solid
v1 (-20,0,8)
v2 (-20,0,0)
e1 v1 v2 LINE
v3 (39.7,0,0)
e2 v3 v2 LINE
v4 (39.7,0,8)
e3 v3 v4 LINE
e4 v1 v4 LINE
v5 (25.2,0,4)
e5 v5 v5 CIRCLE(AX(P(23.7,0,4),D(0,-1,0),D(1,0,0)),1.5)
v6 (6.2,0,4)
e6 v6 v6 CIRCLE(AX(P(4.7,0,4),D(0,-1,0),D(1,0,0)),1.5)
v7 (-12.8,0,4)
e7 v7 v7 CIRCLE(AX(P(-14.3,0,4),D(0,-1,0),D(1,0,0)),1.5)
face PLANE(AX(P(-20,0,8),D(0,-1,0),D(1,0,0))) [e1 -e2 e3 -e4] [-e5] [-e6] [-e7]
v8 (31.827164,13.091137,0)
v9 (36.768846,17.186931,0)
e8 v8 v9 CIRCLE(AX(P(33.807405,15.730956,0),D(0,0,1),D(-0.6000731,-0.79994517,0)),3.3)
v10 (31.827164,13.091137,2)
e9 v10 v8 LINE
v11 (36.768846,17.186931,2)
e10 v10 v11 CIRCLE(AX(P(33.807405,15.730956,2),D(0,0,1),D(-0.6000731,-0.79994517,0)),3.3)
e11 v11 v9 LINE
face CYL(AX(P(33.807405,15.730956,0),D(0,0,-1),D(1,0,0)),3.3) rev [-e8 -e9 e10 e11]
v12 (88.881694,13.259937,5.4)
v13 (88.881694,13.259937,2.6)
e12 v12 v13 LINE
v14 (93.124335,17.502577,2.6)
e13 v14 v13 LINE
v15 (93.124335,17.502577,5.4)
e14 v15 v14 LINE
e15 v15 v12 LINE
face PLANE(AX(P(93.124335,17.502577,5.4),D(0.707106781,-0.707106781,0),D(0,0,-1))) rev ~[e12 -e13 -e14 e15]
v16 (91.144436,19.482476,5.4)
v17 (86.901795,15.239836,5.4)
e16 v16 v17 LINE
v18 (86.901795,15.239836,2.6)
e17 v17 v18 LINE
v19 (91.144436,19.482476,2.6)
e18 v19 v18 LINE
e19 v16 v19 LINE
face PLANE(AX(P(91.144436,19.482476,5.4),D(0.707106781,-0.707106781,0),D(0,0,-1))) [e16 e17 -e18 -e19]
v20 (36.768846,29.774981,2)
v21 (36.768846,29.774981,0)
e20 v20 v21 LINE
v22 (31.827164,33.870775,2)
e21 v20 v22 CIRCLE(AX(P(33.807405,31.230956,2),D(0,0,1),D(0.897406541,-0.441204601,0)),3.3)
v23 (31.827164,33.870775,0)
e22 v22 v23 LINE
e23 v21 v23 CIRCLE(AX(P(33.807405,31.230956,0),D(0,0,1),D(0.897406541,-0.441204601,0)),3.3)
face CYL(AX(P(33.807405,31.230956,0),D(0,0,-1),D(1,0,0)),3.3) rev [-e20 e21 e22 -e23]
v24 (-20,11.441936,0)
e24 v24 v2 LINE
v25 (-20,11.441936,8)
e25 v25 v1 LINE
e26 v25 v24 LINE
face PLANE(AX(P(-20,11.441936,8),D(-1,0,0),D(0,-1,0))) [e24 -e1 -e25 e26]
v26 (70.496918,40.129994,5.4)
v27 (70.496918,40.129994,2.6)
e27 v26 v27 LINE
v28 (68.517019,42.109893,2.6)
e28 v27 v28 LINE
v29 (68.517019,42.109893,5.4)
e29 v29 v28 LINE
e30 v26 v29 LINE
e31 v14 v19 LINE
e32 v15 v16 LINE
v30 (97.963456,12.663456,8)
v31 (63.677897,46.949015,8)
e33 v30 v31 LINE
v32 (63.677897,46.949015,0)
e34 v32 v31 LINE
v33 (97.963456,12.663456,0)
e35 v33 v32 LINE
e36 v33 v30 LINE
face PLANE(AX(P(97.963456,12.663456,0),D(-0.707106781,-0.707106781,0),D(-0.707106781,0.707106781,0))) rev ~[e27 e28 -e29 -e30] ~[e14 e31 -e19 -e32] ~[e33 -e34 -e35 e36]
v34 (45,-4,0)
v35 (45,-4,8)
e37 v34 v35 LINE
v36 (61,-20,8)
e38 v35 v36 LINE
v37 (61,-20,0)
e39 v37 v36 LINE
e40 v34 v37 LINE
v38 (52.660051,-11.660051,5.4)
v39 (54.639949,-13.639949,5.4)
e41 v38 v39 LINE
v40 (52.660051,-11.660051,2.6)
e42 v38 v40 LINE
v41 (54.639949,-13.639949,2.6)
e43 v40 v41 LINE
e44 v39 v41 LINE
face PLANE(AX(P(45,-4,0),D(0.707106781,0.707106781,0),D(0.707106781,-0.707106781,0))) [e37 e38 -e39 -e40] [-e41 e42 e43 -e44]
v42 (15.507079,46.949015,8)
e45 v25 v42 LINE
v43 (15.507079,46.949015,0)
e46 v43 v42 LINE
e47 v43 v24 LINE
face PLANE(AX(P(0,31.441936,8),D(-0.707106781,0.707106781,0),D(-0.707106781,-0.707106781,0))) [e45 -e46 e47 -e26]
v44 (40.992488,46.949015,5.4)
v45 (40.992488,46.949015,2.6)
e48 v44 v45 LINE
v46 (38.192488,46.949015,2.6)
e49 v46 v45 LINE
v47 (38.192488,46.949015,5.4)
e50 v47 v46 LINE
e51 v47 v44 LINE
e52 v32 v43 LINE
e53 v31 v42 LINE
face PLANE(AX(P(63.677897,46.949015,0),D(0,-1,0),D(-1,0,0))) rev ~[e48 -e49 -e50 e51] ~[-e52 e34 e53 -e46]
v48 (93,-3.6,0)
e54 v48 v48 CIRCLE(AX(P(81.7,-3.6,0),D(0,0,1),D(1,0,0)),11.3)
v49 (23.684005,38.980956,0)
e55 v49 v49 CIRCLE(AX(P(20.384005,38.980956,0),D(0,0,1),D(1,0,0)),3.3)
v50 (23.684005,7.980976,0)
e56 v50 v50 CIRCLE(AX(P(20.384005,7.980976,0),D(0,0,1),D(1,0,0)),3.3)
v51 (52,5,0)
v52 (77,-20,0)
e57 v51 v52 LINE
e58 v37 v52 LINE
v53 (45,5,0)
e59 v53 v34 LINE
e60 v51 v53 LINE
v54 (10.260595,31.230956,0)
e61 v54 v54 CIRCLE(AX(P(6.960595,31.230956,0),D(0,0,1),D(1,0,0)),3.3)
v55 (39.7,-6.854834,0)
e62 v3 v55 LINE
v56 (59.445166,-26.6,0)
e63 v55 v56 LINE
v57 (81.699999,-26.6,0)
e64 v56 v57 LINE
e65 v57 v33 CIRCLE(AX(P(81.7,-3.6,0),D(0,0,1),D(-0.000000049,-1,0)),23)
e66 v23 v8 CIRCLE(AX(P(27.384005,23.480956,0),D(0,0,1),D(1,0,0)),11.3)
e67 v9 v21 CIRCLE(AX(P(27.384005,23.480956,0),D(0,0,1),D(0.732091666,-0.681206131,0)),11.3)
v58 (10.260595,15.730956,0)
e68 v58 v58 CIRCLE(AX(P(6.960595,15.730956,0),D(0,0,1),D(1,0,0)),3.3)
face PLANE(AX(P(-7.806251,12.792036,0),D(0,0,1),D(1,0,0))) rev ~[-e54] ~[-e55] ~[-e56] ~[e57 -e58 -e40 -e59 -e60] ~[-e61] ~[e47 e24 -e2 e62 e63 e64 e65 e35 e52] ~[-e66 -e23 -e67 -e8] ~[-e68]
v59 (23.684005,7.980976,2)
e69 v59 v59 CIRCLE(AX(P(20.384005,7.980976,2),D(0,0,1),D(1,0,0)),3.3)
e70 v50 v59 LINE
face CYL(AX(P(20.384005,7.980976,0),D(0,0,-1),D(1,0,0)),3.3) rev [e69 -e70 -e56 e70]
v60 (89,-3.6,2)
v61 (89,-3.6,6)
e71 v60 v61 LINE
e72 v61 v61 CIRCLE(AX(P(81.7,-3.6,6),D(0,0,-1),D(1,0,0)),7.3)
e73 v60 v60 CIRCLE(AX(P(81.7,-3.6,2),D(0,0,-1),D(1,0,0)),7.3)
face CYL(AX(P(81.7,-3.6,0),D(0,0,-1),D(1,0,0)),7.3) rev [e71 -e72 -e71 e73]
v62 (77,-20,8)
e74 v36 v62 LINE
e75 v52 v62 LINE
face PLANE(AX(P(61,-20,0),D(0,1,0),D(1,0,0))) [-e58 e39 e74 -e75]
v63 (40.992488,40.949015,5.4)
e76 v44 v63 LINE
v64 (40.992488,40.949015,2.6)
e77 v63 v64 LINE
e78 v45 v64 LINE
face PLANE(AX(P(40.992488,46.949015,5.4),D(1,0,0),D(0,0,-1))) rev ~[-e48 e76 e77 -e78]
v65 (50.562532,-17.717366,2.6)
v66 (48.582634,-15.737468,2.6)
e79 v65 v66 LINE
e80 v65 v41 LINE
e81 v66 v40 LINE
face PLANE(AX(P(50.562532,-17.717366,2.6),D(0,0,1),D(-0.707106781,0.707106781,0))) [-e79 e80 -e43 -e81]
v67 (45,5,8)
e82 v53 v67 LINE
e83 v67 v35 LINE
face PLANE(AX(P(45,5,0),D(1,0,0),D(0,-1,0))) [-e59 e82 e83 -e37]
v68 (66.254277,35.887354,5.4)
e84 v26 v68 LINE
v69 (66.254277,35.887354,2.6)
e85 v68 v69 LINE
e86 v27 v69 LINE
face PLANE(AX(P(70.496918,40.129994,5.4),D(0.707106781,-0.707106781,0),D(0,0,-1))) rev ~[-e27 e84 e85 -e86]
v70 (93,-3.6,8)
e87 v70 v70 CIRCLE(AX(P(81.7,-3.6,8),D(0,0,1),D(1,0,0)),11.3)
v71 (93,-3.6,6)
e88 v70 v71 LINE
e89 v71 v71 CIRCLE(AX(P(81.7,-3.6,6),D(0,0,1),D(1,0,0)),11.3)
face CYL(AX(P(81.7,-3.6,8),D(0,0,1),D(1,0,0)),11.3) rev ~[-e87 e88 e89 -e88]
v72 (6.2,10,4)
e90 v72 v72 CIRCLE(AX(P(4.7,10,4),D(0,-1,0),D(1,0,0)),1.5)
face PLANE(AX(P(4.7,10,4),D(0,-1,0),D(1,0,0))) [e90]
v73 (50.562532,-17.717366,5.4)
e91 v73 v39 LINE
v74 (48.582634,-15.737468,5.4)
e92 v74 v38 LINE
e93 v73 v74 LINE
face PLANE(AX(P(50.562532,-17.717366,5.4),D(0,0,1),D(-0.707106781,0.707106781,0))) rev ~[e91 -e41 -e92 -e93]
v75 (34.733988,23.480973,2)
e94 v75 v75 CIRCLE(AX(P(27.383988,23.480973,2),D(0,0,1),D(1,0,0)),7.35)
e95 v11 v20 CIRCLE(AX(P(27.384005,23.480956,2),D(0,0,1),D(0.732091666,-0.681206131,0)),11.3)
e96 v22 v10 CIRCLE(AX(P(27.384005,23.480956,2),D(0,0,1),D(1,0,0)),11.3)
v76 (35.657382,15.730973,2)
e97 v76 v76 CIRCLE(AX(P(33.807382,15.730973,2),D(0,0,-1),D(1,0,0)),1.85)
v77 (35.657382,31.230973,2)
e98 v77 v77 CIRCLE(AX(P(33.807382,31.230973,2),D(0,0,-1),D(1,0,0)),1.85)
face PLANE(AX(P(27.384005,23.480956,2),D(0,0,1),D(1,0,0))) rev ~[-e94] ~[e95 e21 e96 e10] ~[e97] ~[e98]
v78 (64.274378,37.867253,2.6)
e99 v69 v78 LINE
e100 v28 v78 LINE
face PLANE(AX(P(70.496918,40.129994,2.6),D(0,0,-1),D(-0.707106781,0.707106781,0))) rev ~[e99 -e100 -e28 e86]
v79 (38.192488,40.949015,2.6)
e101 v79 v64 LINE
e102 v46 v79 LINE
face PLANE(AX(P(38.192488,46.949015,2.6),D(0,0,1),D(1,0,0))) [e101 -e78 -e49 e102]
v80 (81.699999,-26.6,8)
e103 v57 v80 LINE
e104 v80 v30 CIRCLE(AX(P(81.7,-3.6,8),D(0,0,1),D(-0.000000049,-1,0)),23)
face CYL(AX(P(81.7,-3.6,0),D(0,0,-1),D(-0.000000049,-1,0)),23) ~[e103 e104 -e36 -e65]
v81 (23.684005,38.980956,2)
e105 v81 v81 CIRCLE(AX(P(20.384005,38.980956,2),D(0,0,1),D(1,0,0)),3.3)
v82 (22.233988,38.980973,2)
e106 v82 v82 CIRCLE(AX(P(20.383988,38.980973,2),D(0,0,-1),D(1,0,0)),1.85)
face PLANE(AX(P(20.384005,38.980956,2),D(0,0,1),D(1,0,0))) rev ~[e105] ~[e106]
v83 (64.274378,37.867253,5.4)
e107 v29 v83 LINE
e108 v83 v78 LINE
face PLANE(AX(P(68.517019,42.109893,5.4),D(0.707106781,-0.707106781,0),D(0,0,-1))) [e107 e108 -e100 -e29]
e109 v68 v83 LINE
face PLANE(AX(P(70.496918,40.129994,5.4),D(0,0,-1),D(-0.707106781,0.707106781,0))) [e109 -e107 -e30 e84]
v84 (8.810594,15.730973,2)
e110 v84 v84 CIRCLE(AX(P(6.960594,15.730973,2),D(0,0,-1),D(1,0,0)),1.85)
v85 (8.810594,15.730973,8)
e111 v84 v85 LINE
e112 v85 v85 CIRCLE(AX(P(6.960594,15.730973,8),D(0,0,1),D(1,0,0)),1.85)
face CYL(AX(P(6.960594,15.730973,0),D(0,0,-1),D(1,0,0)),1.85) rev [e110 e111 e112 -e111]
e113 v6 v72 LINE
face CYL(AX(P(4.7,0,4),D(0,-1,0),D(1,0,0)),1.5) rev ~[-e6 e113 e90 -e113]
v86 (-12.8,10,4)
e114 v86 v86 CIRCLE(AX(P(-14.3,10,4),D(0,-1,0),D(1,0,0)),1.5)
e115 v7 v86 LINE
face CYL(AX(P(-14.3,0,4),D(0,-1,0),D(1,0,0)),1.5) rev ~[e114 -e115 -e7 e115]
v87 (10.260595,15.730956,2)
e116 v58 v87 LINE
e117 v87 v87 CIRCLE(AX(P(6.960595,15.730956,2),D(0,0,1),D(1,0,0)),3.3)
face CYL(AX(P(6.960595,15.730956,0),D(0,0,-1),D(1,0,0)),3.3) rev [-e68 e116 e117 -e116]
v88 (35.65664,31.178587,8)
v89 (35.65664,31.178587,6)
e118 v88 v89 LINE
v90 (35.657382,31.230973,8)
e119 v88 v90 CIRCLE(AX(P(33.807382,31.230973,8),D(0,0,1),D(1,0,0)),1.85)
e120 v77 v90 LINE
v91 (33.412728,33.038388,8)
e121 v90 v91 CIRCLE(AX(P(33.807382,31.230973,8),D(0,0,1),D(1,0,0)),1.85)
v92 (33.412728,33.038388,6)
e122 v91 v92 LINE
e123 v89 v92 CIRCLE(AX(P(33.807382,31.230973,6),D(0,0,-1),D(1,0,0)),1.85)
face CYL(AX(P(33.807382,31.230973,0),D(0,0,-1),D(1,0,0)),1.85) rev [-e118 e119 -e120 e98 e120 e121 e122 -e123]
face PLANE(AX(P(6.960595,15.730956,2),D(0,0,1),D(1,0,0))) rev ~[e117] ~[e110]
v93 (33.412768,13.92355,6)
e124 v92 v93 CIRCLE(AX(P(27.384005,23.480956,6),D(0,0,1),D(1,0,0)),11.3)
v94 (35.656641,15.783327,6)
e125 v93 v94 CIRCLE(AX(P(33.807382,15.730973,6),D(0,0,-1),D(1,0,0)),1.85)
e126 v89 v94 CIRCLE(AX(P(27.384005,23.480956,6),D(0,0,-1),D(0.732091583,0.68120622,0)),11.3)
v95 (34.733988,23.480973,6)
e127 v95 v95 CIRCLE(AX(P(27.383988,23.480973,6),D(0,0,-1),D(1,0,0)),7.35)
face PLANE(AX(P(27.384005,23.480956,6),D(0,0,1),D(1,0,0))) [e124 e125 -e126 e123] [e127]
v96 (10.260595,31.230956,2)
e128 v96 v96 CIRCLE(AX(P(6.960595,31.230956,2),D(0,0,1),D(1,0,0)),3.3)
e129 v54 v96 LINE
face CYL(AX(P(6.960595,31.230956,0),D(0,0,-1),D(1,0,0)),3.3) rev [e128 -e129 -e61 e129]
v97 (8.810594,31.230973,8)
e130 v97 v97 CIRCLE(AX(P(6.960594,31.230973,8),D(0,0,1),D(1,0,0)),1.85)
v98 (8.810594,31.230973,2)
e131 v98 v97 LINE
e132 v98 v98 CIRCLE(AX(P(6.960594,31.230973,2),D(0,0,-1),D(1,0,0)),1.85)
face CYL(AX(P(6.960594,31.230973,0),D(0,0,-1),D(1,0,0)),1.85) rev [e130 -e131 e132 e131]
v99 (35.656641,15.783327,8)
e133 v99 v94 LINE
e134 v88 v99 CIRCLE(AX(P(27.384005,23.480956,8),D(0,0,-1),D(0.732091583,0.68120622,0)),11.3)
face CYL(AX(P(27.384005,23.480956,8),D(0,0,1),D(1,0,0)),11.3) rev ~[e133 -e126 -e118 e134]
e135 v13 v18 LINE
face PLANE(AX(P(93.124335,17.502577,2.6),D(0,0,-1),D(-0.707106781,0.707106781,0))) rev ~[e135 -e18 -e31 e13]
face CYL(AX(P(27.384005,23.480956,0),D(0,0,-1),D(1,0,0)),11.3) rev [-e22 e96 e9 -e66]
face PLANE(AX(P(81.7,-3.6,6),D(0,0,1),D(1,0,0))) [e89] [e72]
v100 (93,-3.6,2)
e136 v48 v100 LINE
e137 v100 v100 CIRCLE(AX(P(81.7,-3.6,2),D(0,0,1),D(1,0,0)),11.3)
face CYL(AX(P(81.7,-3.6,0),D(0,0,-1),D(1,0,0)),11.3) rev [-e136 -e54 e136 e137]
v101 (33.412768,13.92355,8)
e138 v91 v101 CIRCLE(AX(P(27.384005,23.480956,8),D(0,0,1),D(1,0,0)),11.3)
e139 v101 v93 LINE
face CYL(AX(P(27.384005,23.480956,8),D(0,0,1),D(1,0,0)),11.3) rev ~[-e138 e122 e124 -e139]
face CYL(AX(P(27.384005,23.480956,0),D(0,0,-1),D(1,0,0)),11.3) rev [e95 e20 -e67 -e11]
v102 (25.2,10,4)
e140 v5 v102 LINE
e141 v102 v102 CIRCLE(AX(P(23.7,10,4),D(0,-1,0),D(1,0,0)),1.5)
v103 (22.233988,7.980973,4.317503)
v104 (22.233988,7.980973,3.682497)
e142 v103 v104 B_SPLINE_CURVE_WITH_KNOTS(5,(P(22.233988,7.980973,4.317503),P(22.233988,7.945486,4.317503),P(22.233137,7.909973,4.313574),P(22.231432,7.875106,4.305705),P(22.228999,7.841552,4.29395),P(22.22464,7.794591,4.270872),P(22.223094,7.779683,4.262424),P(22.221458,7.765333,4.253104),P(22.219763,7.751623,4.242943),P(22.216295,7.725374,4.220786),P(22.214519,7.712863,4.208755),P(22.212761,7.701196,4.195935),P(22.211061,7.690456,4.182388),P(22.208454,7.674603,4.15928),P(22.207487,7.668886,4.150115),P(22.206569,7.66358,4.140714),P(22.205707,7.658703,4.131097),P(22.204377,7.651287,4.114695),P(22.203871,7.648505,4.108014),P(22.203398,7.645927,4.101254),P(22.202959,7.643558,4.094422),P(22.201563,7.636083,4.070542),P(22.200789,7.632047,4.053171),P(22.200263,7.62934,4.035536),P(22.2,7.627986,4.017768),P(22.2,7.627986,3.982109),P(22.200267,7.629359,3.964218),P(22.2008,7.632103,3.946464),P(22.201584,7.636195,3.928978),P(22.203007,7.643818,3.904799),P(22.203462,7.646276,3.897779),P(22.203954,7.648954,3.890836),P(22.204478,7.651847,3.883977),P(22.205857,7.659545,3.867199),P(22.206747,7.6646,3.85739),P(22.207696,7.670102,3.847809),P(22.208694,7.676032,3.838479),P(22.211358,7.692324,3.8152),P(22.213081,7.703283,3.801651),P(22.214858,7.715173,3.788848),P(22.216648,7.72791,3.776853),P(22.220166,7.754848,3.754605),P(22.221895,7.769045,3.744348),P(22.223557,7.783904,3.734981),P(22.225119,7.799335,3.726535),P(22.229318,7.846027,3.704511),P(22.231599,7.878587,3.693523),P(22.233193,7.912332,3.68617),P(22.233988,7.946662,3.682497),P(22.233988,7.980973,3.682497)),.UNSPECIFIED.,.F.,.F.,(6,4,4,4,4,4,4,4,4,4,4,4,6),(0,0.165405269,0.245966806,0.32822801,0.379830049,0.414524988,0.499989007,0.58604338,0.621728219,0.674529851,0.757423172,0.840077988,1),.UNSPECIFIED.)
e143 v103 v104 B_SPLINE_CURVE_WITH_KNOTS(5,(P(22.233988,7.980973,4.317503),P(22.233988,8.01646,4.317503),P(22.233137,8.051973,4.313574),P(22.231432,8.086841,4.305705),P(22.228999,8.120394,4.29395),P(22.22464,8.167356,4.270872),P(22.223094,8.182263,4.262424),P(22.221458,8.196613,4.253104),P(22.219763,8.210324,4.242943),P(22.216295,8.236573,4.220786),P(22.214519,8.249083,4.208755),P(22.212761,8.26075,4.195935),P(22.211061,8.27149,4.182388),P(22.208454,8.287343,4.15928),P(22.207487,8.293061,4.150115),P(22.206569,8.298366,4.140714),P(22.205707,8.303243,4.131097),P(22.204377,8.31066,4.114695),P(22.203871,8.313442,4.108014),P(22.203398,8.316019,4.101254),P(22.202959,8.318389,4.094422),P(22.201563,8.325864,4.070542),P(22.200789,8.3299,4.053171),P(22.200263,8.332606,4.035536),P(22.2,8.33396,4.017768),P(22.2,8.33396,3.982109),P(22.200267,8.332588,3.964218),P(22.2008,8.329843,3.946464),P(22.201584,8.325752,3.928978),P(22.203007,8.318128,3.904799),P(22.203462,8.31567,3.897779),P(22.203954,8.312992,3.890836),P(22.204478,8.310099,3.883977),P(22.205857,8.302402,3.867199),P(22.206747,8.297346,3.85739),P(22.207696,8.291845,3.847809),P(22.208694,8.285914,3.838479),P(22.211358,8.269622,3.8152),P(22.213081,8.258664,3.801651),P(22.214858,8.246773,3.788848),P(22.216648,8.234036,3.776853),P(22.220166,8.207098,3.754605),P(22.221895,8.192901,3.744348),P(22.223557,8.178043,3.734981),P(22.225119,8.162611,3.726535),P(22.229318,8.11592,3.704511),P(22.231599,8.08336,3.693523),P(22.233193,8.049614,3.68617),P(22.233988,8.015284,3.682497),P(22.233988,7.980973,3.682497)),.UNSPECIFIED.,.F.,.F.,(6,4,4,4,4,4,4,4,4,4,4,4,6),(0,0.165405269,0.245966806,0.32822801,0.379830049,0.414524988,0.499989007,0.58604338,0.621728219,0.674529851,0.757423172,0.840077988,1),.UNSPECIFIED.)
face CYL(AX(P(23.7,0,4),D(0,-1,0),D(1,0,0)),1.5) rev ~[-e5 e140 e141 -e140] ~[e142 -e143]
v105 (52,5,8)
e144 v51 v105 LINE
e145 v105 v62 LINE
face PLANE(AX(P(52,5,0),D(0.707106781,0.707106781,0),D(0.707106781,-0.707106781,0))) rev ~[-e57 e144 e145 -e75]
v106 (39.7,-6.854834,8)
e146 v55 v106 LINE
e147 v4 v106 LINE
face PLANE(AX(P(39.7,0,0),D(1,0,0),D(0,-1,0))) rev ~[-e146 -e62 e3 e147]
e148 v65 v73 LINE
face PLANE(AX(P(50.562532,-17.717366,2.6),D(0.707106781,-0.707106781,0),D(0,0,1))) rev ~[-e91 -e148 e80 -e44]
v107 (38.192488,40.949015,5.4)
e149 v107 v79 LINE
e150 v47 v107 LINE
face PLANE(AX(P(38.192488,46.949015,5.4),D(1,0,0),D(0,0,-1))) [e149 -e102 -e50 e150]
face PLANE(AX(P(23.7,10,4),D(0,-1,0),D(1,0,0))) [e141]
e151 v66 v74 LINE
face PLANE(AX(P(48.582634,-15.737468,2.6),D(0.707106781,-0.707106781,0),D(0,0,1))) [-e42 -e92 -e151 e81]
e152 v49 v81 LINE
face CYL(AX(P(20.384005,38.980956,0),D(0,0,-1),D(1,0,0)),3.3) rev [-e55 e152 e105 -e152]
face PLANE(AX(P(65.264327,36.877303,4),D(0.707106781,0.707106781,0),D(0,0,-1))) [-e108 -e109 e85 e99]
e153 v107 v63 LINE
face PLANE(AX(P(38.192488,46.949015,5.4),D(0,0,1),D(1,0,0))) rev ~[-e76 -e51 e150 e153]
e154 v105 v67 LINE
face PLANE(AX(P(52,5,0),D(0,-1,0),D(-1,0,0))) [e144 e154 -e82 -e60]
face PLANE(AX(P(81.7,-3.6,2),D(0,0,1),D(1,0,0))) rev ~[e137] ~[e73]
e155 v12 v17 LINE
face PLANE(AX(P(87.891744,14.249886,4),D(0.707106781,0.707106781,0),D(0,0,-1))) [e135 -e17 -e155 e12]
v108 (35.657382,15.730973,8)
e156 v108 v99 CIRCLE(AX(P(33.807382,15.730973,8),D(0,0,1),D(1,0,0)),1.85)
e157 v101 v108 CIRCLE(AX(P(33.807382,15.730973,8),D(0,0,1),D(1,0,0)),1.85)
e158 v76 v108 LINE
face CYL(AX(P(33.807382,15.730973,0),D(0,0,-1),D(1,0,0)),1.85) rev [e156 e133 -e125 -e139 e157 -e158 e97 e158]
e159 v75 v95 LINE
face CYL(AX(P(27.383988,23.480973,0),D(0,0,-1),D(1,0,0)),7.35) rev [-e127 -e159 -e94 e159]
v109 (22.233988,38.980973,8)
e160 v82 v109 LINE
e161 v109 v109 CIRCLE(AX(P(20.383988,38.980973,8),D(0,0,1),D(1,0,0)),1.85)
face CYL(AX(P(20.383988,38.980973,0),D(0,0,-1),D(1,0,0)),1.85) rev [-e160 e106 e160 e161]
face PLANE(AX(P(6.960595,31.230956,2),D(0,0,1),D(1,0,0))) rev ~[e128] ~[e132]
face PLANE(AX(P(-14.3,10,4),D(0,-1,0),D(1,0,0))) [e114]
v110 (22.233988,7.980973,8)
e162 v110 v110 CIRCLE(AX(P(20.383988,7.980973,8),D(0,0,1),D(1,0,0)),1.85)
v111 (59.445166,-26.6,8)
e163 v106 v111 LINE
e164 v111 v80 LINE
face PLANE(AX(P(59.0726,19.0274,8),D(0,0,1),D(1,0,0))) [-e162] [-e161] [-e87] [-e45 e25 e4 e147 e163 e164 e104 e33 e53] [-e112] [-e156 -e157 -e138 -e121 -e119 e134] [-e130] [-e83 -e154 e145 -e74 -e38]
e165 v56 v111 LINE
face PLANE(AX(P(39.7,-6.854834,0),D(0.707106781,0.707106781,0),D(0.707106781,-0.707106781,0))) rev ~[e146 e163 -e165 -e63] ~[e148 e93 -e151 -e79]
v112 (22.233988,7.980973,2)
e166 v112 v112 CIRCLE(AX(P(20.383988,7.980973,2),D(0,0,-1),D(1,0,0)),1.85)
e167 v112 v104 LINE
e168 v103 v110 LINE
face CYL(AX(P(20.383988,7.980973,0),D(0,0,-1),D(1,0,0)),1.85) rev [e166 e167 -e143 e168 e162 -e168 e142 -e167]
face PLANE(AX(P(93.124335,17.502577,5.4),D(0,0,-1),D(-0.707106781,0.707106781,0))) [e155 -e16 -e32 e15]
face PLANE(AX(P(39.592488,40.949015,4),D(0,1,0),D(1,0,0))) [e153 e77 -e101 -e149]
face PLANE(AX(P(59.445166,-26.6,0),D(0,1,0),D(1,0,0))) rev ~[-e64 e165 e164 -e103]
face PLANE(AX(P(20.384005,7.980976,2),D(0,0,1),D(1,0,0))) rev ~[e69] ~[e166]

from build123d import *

# Parameters (mm, degrees)
MODEL_R                  = 7.35
MODEL_R_2                = 7.3
MODEL_R_3                = 1.85
RESSALTO_EXTRUS_O1_DEPTH = 8
ESBO_O3_R                = 11.3
CORTE_EXTRUS_O1_DEPTH    = 2
ESBO_O4_R                = 11.3
CORTE_EXTRUS_O2_DEPTH    = 2
ESBO_O2_R                = 3.3
CORTE_EXTRUS_O4_DEPTH    = 2
ESBO_O7_W                = 2.8
ESBO_O7_H                = 2.8
CORTE_EXTRUS_O6_DEPTH    = 6
ESBO_O8_W                = 2.8
ESBO_O8_H                = 2.8
CORTE_EXTRUS_O7_DEPTH    = 6
ESBO_O10_W               = 2.8
ESBO_O10_H               = 2.8
CORTE_EXTRUS_O9_DEPTH    = 6
RESSALTO_EXTRUS_O3_DEPTH = 8
ESBO_O6_R                = 1.5
CORTE_EXTRUS_O5_DEPTH    = 10
ESBO_O15_R               = 11.3
RESSALTO_EXTRUS_O4_DEPTH = 8


with BuildPart() as part:
    # Model → Ressalto-extrusão1 (new body)
    with BuildSketch(Plane.XY):
        with BuildLine():
            Line((0, 0), (39, 0))
            Line((39, 0), (39.7, 0))
            Line((39.7, 0), (39.7, -6.854833996))
            Line((39.7, -6.854833996), (52.445166004, -19.6))
            Line((52.445166004, -19.6), (59.445166004, -26.6))
            Line((59.445166004, -26.6), (81.699998871, -26.6))
            ThreePointArc((81.699998871, -26.6), (102.949229032, -12.401719466), (97.963455967, 12.663455967))
            Line((97.963455967, 12.663455967), (63.677897161, 46.949014774))
            Line((63.677897161, 46.949014774), (50.111140335, 46.949014774))
            Line((50.111140335, 46.949014774), (15.50707852, 46.949014774))
            Line((15.50707852, 46.949014774), (0, 31.441936254))
            Line((0, 31.441936254), (0, 0))
        make_face()
        with Locations((59.072583002, 19.027416998)):
            Circle(MODEL_R, mode=Mode.SUBTRACT)
        with Locations((81.7, -3.6)):
            Circle(MODEL_R_2, mode=Mode.SUBTRACT)
        with Locations((6.960594046, 15.730973227)):
            Circle(MODEL_R_3, mode=Mode.SUBTRACT)
        with Locations((6.960594046, 31.230973227)):
            Circle(MODEL_R_3, mode=Mode.SUBTRACT)
        with Locations((20.383987804, 38.980973227)):
            Circle(MODEL_R_3, mode=Mode.SUBTRACT)
        with Locations((33.807381563, 31.230973227)):
            Circle(MODEL_R_3, mode=Mode.SUBTRACT)
        with Locations((33.807381563, 15.730973227)):
            Circle(MODEL_R_3, mode=Mode.SUBTRACT)
        with Locations((20.383987804, 7.980973227)):
            Circle(MODEL_R_3, mode=Mode.SUBTRACT)
        with Locations((27.383987804, 23.480973227)):
            Circle(MODEL_R, mode=Mode.SUBTRACT)
        Polygon((72, -15), (52, 5), (45, 5), (45, -4), (61, -20), (77, -20), align=None, mode=Mode.SUBTRACT)
    extrude(amount=RESSALTO_EXTRUS_O1_DEPTH)

    # Esboço3 → Corte-extrusão1 (cut)
    with BuildSketch(Plane.XY):
        with Locations((81.7, -3.6)):
            Circle(ESBO_O3_R)
        with Locations((59.0726, 19.0274)):
            Circle(ESBO_O3_R)
        with Locations((27.384004802, 23.480956229)):
            Circle(ESBO_O3_R)
    extrude(amount=CORTE_EXTRUS_O1_DEPTH, mode=Mode.SUBTRACT)

    # Esboço4 → Corte-extrusão2 (cut)
    with BuildSketch(Plane.XY.offset(8)):
        with Locations((81.7, -3.6)):
            Circle(ESBO_O4_R)
        with Locations((59.0726, 19.0274)):
            Circle(ESBO_O4_R)
        with Locations((27.384004802, 23.480956229)):
            Circle(ESBO_O4_R)
    extrude(amount=-CORTE_EXTRUS_O2_DEPTH, mode=Mode.SUBTRACT)

    # Esboço2 → Corte-extrusão4 (cut)
    with BuildSketch(Plane.XY):
        with Locations((6.960594802, 15.730956229)):
            Circle(ESBO_O2_R)
        with Locations((6.960594802, 31.230956229)):
            Circle(ESBO_O2_R)
        with Locations((33.807404802, 15.730956229)):
            Circle(ESBO_O2_R)
        with Locations((20.384004802, 38.980956229)):
            Circle(ESBO_O2_R)
        with Locations((33.807404802, 31.230956229)):
            Circle(ESBO_O2_R)
        with Locations((20.384004802, 7.980976229)):
            Circle(ESBO_O2_R)
    extrude(amount=CORTE_EXTRUS_O4_DEPTH, mode=Mode.SUBTRACT)

    # Esboço7 → Corte-extrusão6 (cut)
    with BuildSketch(Plane(origin=(55.313455967, 55.313455967, 0), x_dir=(0, 0, -1), z_dir=(0.707106781, 0.707106781, 0))):
        with Locations((-4, -52.072657306)):
            Rectangle(ESBO_O7_W, ESBO_O7_H)
        with Locations((-4, -20.072657306)):
            Rectangle(ESBO_O7_W, ESBO_O7_H)
    extrude(amount=-CORTE_EXTRUS_O6_DEPTH, mode=Mode.SUBTRACT)

    # Esboço8 → Corte-extrusão7 (cut)
    with BuildSketch(Plane(origin=(0, 46.949014774, 0), x_dir=(1, 0, 0), z_dir=(0, 1, 0))):
        with Locations((39.59248784, -4)):
            Rectangle(ESBO_O8_W, ESBO_O8_H)
    extrude(amount=-CORTE_EXTRUS_O7_DEPTH, mode=Mode.SUBTRACT)

    # Esboço10 → Corte-extrusão9 (cut)
    with BuildSketch(Plane(origin=(16.422583002, 16.422583002, 0), x_dir=(0, 0, 1), z_dir=(-0.707106781, -0.707106781, 0))):
        with Locations((4, -46.881179593)):
            Rectangle(ESBO_O10_W, ESBO_O10_H)
    extrude(amount=-CORTE_EXTRUS_O9_DEPTH, mode=Mode.SUBTRACT)

    # Esboço13 → Ressalto-extrusão3 (add)
    with BuildSketch(Plane.XY.offset(8)):
        Polygon((0, 31.441936254), (-20, 11.441936254), (-20, 0), (0, 0), align=None)
    extrude(amount=-RESSALTO_EXTRUS_O3_DEPTH)

    # Esboço6 → Corte-extrusão5 (cut)
    with BuildSketch(Plane.XZ):
        with Locations((4.7, 4)):
            Circle(ESBO_O6_R)
        with Locations((23.7, 4)):
            Circle(ESBO_O6_R)
        with Locations((-14.3, 4)):
            Circle(ESBO_O6_R)
    extrude(amount=-CORTE_EXTRUS_O5_DEPTH, mode=Mode.SUBTRACT)

    # Esboço15 → Ressalto-extrusão4 (add)
    with BuildSketch(Plane.XY.offset(8)):
        with Locations((59.0726, 19.0274)):
            Circle(ESBO_O15_R)
    extrude(amount=-RESSALTO_EXTRUS_O4_DEPTH)


solid = part.part
